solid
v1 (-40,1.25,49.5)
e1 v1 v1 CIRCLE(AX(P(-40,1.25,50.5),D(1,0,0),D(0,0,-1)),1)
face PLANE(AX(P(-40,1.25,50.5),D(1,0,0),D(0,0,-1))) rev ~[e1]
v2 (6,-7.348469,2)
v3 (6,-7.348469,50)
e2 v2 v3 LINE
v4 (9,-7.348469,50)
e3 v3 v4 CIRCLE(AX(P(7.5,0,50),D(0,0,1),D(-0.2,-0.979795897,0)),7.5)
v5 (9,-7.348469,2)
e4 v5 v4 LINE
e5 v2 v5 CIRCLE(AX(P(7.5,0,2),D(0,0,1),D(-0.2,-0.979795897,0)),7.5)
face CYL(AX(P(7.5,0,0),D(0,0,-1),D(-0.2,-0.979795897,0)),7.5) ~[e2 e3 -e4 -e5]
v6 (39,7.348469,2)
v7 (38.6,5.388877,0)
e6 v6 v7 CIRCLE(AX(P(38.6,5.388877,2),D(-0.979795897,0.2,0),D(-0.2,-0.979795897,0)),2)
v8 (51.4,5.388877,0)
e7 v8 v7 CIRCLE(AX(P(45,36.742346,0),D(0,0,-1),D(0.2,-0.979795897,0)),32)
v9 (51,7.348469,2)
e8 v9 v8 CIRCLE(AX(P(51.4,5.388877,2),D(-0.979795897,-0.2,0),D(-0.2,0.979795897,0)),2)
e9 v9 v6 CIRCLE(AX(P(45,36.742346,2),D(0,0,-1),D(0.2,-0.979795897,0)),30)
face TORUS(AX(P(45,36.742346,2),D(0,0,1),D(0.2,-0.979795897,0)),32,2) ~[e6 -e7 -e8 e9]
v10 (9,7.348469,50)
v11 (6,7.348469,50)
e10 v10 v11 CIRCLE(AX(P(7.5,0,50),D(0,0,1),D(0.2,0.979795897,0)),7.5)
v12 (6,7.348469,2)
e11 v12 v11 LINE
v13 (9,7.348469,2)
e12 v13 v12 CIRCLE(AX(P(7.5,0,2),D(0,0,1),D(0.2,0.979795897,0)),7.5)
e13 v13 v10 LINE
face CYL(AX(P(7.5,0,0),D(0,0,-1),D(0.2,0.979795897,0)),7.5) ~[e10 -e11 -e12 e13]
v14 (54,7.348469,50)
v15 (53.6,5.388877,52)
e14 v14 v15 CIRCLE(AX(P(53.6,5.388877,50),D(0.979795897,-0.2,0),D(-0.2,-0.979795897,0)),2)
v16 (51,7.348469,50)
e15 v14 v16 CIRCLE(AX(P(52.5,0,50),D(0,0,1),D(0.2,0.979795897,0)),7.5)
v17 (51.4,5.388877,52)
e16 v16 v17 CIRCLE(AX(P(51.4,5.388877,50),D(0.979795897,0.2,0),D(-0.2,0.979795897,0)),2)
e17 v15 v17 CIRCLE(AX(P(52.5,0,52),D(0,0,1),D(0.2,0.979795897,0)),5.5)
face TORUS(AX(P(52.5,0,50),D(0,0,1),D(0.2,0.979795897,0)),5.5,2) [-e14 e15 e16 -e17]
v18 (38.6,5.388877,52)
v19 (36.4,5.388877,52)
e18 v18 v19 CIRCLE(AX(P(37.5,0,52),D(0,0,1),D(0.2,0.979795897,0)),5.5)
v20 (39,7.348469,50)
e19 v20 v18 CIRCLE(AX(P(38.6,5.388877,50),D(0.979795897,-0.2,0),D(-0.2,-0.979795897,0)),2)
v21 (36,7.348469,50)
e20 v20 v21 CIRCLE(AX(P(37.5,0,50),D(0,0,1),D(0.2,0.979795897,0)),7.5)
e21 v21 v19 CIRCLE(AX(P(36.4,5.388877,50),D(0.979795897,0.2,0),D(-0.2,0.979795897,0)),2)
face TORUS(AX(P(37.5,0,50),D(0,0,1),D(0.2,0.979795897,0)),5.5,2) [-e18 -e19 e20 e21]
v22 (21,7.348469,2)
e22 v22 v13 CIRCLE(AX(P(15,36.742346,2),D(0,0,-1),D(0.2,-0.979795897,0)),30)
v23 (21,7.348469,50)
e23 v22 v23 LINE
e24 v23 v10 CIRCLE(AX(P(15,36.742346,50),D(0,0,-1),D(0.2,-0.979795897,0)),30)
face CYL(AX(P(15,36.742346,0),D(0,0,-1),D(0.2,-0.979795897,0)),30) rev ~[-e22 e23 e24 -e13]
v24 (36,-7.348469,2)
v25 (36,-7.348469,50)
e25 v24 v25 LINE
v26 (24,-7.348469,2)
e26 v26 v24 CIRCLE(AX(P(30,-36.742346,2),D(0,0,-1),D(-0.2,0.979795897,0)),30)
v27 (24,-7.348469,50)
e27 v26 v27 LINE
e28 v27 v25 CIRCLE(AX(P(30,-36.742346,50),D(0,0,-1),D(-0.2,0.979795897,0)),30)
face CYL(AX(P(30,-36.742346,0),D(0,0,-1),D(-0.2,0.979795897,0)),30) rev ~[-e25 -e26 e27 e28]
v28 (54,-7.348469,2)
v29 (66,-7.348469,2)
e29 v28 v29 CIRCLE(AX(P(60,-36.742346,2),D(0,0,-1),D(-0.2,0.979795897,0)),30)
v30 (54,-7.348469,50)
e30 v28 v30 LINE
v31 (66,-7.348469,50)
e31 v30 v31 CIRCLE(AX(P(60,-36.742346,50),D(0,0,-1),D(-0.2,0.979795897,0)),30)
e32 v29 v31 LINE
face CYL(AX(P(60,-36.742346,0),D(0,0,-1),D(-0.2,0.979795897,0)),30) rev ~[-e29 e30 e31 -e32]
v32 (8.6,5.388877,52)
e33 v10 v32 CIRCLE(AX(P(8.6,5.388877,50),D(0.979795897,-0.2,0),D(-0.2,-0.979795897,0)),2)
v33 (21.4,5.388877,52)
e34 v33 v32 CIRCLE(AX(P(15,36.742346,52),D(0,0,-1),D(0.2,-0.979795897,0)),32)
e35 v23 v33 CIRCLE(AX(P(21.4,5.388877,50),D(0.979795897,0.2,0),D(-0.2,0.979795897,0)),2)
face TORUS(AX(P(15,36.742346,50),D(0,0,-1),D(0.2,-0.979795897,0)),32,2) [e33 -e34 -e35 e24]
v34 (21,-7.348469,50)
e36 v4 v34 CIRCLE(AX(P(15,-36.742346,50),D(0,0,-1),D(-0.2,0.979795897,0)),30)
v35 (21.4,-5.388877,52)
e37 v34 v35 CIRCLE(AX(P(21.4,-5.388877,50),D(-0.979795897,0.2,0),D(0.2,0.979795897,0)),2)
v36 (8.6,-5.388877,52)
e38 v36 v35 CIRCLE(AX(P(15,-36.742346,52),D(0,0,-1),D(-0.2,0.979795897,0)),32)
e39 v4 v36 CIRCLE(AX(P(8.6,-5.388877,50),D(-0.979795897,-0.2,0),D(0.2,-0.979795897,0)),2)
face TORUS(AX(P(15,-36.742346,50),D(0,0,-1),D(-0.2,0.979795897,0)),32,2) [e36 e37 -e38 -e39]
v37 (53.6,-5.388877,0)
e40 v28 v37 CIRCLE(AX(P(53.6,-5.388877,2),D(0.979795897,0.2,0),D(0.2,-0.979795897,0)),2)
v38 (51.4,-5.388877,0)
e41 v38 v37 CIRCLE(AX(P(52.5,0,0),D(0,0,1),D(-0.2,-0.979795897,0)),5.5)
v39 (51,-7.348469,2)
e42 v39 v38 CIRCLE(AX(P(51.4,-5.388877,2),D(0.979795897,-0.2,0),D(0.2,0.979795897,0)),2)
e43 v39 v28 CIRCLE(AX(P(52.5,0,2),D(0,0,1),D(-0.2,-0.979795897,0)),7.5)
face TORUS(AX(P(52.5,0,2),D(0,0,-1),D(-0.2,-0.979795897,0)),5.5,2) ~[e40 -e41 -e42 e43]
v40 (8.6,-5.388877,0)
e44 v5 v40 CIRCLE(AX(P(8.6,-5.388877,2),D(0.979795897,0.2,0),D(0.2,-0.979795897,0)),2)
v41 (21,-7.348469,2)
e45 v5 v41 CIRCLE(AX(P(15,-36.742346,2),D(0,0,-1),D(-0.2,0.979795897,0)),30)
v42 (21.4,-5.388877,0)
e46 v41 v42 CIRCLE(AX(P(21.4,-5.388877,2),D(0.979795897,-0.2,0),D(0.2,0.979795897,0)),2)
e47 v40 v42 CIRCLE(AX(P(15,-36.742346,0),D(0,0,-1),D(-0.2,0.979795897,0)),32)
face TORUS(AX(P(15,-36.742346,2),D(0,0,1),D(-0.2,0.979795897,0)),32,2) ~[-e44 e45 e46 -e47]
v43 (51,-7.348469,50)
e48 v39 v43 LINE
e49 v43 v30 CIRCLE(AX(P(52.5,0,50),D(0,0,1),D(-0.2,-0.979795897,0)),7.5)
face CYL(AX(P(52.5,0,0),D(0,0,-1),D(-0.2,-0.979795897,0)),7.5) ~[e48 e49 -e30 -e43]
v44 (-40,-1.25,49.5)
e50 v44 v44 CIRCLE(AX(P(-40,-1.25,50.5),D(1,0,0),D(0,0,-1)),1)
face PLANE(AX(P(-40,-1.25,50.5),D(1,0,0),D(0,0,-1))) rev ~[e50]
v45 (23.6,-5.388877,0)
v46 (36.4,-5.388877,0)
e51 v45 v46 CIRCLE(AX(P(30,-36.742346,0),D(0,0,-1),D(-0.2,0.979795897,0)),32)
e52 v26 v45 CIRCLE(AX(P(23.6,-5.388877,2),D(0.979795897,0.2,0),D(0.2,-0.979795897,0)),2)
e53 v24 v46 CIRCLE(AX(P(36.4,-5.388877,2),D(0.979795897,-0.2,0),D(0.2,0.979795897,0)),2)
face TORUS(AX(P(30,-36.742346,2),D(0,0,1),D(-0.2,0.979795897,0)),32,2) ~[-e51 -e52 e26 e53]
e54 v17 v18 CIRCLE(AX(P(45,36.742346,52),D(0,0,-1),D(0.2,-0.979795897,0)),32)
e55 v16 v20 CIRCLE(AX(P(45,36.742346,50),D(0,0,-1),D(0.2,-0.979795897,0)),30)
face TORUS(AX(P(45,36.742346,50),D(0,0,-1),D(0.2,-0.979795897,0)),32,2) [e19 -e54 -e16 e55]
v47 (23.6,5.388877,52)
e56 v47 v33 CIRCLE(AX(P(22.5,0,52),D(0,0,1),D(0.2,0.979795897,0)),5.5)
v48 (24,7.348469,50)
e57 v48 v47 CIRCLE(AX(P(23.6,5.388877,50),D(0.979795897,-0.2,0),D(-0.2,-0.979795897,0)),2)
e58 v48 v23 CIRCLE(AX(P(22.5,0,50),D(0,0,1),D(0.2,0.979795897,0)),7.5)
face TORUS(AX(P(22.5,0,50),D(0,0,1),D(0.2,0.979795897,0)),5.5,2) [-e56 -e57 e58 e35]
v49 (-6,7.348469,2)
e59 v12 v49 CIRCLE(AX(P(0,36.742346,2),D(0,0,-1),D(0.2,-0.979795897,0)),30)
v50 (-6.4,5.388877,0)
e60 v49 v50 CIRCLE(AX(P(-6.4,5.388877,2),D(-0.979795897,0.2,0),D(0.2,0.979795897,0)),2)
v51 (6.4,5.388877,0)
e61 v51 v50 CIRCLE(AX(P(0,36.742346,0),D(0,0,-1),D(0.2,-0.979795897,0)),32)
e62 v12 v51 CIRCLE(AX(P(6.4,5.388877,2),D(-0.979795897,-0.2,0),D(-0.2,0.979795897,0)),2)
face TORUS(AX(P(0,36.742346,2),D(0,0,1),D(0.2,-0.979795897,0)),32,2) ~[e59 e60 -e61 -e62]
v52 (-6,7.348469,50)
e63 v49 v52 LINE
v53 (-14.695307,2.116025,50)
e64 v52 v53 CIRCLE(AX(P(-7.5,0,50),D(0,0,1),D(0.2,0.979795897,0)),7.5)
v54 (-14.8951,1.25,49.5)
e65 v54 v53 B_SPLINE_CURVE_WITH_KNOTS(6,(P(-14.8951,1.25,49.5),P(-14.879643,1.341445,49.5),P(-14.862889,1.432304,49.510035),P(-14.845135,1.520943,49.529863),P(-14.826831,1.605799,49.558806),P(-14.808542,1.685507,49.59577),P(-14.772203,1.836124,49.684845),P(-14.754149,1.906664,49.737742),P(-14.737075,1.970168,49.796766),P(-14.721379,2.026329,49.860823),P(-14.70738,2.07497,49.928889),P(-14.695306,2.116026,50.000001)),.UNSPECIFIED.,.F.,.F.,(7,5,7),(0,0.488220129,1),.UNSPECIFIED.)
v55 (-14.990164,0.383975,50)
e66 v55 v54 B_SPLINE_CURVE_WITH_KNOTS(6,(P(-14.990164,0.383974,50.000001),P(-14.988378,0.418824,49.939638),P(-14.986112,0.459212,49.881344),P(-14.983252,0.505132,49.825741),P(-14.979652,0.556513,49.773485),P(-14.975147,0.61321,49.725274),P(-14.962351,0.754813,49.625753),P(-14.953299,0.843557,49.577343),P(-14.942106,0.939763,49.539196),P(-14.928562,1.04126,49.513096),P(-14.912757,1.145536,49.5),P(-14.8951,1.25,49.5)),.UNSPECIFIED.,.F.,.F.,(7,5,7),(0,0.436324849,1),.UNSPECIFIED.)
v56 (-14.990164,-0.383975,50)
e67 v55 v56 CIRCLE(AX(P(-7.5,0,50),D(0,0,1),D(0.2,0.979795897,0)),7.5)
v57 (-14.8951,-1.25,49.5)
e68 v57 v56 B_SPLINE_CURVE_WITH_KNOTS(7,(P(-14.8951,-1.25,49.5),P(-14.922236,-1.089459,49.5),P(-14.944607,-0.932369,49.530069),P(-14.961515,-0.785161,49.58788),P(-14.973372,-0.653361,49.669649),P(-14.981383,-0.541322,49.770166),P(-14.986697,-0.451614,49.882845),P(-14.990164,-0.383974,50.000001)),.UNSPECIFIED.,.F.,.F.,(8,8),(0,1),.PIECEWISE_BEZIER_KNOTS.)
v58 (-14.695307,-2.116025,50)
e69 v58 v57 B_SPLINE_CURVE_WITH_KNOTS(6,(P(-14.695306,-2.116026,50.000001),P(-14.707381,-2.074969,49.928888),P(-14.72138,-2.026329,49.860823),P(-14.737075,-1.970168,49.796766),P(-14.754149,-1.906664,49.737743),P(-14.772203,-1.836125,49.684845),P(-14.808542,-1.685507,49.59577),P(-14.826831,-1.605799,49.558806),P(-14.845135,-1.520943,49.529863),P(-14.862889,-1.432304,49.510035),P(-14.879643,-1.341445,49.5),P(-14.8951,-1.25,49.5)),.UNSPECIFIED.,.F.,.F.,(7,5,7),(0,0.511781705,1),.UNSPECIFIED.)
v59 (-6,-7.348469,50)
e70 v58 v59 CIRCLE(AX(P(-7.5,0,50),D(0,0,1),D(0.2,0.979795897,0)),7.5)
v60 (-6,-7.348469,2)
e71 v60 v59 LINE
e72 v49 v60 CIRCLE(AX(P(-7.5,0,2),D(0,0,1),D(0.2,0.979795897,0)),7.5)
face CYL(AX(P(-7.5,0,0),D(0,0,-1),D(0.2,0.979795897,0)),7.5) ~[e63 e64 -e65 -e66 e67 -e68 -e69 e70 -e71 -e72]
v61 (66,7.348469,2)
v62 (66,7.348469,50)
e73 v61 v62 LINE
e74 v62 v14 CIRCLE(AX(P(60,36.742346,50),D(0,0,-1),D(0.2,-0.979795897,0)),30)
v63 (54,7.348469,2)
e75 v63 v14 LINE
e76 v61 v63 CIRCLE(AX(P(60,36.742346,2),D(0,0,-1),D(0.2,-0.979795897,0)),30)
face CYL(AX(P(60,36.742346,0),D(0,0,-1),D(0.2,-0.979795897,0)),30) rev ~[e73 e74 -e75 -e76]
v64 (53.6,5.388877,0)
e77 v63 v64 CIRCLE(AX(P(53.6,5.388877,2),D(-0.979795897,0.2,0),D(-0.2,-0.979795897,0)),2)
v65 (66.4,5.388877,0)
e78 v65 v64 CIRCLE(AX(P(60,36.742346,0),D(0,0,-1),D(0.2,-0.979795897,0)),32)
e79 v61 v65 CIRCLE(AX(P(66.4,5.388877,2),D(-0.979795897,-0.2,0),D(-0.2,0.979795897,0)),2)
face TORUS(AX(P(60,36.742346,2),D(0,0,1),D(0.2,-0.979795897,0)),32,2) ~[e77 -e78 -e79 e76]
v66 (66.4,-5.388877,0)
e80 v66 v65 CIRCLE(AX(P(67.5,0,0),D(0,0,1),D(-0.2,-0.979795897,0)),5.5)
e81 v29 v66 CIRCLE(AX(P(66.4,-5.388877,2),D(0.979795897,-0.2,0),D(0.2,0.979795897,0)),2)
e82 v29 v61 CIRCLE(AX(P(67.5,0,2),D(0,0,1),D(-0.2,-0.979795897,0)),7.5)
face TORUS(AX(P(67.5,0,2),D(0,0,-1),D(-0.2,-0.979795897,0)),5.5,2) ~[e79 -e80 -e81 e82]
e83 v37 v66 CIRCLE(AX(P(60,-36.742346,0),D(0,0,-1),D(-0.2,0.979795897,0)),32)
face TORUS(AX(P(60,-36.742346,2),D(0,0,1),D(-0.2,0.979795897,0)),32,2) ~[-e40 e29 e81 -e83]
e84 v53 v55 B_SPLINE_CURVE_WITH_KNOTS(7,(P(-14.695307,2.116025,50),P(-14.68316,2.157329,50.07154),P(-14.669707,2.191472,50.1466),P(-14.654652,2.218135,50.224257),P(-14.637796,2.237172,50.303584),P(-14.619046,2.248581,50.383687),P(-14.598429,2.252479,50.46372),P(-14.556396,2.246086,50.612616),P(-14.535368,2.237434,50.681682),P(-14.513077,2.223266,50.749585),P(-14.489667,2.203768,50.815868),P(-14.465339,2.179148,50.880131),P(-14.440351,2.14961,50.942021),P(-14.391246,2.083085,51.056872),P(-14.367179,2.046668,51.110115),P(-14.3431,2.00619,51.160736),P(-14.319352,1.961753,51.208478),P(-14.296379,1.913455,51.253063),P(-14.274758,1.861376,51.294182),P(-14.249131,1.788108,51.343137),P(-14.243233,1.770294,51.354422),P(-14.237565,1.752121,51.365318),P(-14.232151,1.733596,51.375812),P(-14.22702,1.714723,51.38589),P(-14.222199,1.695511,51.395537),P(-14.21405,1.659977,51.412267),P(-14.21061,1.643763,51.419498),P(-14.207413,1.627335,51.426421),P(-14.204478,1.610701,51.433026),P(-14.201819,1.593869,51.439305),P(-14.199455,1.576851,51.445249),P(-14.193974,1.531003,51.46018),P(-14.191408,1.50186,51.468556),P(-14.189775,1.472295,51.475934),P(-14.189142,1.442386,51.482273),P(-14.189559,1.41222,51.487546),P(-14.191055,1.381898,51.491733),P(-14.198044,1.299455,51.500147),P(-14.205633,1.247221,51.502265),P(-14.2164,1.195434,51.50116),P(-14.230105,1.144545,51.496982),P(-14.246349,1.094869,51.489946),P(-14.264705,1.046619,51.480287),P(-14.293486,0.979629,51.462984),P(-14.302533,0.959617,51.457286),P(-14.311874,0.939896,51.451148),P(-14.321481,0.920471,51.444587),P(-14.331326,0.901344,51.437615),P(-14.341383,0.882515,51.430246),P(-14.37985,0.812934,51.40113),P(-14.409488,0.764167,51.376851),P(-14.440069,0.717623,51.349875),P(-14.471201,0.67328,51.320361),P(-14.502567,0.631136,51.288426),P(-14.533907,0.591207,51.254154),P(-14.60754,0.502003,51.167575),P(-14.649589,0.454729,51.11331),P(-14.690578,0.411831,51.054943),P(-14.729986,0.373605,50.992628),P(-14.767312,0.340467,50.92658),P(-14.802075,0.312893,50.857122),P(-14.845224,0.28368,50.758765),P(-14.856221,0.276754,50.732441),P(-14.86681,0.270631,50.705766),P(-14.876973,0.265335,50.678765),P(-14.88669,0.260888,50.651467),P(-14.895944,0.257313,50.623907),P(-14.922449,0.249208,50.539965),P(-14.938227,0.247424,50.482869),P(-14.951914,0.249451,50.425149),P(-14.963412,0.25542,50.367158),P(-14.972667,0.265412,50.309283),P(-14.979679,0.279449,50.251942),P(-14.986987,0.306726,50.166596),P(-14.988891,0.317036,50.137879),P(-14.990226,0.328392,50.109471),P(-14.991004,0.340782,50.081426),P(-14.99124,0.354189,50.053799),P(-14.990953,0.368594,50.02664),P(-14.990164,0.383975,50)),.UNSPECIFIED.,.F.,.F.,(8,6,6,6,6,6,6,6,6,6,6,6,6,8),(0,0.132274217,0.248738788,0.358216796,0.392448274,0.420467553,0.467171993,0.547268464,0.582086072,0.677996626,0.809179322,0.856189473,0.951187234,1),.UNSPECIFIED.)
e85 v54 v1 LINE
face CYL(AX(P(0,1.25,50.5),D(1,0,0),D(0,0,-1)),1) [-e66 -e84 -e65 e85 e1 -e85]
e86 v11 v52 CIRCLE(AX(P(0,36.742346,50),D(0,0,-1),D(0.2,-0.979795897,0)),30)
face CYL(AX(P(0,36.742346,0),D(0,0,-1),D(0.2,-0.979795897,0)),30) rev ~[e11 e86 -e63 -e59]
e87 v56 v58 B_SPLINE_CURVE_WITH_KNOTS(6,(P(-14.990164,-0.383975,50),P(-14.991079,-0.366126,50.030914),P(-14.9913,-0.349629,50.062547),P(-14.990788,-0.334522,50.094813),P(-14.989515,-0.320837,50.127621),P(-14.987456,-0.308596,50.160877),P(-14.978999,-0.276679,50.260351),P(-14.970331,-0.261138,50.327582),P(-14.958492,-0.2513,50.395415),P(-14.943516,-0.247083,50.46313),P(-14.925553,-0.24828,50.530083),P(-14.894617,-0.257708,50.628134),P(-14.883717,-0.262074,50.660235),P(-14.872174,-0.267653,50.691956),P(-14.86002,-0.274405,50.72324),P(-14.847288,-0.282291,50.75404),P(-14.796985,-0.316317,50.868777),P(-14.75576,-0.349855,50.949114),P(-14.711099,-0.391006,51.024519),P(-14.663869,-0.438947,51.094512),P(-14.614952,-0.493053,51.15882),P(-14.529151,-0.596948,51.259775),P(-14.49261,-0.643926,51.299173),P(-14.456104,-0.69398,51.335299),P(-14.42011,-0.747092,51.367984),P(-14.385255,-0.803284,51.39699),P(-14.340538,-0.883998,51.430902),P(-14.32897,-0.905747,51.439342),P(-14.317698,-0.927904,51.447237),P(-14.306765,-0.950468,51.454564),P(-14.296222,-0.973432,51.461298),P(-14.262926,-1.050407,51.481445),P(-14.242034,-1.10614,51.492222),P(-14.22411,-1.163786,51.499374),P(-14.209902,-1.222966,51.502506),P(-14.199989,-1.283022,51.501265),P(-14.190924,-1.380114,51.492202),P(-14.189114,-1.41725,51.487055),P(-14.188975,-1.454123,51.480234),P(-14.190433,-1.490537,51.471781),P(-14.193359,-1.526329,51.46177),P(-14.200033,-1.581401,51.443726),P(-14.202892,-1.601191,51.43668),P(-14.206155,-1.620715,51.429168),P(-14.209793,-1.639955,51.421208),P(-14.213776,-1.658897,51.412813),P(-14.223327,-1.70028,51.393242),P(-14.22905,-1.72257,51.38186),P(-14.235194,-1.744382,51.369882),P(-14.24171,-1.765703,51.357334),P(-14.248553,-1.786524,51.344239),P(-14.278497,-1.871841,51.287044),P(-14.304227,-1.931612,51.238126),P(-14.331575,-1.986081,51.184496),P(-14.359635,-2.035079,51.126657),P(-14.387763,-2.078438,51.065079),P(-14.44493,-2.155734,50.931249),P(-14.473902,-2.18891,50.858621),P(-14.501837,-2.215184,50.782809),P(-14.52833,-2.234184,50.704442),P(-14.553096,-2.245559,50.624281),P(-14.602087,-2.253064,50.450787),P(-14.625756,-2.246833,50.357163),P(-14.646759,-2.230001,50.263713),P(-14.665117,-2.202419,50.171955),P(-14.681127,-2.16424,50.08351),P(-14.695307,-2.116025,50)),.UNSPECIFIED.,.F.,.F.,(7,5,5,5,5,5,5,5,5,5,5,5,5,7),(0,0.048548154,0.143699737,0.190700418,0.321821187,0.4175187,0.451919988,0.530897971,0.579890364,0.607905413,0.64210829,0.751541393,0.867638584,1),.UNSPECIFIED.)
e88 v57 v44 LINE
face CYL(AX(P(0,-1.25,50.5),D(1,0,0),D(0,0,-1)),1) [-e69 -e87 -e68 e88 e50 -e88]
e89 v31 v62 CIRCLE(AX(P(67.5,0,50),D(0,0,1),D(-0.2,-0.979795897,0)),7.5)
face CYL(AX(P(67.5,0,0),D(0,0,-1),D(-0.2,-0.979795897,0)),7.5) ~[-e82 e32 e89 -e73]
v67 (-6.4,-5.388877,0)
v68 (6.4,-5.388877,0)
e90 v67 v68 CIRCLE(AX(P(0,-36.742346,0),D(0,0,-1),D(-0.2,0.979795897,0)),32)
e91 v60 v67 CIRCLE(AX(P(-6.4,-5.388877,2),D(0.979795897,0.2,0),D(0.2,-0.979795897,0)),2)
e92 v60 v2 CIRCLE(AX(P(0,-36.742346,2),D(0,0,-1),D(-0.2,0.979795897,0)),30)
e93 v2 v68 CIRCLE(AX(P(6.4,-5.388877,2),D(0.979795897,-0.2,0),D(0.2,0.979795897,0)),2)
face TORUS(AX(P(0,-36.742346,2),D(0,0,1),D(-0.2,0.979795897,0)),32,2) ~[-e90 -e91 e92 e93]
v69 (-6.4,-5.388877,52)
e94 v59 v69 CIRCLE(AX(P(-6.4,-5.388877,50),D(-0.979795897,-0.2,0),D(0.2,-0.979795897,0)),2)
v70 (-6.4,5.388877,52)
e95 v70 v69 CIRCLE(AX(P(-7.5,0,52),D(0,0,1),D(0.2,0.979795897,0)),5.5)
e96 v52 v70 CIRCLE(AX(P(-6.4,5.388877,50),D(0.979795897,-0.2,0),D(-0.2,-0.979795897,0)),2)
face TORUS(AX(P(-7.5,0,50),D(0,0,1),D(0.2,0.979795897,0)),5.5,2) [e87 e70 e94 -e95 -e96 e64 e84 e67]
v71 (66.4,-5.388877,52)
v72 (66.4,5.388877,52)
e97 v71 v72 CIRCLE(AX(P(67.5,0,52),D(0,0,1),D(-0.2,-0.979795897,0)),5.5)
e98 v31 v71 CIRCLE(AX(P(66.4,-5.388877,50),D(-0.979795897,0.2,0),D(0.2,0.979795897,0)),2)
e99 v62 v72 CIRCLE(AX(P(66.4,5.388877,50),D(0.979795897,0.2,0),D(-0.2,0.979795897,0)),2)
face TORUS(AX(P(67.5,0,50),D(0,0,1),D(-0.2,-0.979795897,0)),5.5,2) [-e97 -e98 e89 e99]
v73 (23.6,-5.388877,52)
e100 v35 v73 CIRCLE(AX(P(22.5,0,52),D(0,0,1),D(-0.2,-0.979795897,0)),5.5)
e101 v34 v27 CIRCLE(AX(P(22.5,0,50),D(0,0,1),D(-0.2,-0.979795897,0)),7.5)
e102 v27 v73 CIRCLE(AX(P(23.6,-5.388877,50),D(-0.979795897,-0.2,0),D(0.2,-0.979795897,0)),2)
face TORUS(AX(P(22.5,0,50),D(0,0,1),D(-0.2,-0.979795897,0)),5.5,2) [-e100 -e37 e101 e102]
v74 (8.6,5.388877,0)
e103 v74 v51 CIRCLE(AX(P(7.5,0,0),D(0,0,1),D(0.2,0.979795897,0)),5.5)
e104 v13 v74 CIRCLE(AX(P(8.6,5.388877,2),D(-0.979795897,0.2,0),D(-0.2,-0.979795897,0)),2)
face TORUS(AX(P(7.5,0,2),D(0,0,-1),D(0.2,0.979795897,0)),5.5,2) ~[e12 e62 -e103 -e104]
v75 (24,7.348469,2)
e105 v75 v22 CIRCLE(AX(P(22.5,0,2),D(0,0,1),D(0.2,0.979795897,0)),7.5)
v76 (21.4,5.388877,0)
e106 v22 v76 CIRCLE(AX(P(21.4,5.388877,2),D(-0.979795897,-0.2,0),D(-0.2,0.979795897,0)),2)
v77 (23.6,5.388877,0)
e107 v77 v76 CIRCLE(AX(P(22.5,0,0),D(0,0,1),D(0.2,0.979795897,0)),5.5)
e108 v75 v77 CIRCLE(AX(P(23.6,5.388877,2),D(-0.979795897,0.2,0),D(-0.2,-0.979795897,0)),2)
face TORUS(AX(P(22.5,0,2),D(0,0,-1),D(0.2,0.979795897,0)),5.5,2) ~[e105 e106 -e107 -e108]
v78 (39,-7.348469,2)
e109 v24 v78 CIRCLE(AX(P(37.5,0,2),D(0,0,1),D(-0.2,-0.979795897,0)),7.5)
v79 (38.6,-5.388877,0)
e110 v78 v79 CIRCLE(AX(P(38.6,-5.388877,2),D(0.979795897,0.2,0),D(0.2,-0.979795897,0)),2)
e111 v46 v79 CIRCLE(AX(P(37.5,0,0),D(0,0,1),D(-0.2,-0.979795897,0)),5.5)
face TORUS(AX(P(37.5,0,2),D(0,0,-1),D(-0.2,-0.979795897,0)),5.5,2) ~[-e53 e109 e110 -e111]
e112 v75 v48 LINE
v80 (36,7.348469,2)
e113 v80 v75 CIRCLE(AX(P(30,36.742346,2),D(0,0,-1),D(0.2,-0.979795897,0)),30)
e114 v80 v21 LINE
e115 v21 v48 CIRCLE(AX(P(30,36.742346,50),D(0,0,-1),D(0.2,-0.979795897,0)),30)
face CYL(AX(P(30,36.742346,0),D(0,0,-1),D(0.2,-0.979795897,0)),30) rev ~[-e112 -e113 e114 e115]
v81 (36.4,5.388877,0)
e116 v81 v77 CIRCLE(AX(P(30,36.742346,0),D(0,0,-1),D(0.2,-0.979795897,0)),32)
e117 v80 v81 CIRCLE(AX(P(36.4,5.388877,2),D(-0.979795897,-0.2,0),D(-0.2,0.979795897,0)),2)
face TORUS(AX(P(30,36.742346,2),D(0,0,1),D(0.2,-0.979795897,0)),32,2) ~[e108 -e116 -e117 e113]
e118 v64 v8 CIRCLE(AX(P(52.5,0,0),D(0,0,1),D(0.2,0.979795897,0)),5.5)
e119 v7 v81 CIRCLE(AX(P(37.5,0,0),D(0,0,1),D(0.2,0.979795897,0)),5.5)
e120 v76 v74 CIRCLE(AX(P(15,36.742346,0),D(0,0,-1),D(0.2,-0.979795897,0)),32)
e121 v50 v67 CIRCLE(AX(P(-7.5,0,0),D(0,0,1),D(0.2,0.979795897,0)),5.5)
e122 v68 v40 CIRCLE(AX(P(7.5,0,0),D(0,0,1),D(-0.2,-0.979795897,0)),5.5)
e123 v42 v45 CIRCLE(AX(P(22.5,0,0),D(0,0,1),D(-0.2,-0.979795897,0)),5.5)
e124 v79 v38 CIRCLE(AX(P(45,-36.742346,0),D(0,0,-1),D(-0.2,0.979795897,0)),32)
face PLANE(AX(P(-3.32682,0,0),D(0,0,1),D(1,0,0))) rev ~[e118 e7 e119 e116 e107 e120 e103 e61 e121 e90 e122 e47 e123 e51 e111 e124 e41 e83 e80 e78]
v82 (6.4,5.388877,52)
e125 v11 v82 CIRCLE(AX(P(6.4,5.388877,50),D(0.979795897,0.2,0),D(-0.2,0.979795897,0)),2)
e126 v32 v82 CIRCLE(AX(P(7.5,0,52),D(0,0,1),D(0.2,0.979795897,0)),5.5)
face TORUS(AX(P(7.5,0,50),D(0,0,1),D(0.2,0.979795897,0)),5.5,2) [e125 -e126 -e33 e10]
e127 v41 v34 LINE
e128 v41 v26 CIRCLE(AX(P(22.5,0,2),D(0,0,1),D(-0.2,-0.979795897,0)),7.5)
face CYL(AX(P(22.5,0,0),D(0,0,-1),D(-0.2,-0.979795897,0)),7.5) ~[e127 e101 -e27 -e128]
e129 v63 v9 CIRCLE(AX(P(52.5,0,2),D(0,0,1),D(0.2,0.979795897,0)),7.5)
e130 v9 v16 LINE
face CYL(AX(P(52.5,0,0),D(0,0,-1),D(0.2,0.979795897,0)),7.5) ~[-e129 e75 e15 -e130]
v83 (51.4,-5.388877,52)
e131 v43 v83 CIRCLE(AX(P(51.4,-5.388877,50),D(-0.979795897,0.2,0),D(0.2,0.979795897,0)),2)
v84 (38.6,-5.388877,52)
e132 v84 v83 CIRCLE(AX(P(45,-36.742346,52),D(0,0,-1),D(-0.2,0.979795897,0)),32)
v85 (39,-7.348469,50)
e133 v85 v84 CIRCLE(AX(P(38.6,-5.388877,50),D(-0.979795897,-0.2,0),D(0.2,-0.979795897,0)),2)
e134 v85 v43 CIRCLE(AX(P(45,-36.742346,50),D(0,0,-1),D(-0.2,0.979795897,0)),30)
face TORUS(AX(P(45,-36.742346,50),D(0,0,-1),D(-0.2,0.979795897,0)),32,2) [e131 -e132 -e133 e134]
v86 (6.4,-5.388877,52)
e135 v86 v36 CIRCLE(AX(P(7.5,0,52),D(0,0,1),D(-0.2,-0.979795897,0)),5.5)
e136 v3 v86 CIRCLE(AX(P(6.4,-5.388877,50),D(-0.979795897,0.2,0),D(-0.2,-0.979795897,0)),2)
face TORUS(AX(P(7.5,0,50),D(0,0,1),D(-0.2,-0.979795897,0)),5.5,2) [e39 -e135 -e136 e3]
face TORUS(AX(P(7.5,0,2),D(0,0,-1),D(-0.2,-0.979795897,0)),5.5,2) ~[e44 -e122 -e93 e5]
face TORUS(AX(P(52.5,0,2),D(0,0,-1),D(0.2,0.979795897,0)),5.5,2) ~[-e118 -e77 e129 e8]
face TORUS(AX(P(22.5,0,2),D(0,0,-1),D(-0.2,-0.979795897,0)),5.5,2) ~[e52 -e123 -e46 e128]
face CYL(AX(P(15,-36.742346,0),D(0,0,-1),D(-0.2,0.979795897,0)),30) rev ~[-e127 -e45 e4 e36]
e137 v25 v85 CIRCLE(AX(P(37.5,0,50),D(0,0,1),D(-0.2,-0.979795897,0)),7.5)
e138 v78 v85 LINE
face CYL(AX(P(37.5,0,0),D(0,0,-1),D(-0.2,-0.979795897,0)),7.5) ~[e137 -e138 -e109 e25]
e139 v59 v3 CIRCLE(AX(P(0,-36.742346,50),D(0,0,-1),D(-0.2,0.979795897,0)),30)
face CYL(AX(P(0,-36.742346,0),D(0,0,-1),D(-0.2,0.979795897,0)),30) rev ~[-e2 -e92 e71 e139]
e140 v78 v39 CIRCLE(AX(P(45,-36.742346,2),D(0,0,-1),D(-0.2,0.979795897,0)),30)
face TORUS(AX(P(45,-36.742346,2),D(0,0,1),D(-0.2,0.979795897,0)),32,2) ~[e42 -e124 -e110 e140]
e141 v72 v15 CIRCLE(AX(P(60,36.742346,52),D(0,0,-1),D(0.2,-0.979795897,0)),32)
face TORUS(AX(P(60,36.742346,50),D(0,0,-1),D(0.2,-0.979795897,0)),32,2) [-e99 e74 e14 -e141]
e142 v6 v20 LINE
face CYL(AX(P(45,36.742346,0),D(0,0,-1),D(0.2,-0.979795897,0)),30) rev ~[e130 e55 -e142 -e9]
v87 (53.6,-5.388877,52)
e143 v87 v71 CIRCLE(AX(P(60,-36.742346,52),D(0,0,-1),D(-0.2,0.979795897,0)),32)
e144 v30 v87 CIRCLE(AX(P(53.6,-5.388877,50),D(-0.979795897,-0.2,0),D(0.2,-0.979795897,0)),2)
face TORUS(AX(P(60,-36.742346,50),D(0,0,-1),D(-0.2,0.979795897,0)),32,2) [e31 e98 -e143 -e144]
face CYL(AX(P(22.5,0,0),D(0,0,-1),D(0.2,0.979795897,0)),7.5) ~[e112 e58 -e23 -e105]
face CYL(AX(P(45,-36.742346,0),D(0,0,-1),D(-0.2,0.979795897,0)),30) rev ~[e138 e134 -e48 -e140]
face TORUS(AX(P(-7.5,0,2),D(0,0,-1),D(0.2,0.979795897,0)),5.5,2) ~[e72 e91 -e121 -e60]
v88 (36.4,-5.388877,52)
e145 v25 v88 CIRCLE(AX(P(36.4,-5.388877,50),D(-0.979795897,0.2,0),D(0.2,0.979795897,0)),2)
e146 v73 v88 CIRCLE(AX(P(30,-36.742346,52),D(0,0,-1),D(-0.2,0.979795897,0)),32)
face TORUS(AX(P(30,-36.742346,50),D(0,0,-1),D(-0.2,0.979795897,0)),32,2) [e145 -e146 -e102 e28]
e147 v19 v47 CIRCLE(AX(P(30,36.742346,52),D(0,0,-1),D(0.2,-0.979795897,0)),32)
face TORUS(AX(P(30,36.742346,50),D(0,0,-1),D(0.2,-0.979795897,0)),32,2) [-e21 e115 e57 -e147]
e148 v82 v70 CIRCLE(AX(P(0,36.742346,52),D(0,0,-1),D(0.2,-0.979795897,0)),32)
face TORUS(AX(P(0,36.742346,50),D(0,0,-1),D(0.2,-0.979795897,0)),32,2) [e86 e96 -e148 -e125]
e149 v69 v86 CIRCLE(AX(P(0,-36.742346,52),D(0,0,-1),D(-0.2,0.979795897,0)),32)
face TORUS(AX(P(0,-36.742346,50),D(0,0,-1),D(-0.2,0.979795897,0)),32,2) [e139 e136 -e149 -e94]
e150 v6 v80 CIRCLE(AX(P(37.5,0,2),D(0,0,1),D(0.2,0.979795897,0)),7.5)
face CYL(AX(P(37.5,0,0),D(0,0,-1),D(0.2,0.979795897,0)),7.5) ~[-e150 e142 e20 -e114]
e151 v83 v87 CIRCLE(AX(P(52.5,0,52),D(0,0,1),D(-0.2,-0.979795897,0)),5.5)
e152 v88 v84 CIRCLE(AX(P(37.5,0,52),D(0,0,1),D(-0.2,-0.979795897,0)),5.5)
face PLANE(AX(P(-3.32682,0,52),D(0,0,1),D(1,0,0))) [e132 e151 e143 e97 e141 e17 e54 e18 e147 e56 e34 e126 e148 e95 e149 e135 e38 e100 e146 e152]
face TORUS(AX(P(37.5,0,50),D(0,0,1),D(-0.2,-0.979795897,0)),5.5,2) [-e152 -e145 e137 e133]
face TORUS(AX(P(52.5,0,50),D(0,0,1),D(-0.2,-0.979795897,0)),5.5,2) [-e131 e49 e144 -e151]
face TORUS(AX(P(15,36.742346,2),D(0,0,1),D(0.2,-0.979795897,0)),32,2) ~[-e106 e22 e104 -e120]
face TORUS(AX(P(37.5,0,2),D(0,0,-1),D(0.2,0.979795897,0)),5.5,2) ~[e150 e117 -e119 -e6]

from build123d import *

# Parameters (mm, degrees)
BOSS_EXTRU_1_DEPTH = 52
CONG_1_R           = 2
ESQUISSE3_R        = 1
BOSS_EXTRU_2_DEPTH = 40


with BuildPart() as part:
    # Esquisse2 → Boss.-Extru.1 (new body)
    with BuildSketch(Plane.XY):
        with BuildLine():
            ThreePointArc((6, 7.348469228), (0, 6.742346142), (-6, 7.348469228))
            ThreePointArc((-6, 7.348469228), (-15, 0), (-6, -7.348469228))
            ThreePointArc((-6, -7.348469228), (0, -6.742346142), (6, -7.348469228))
            ThreePointArc((6, -7.348469228), (0, 0), (6, 7.348469228))
        make_face()
        with BuildLine():
            ThreePointArc((9, 7.348469228), (7.5, 7.5), (6, 7.348469228))
            ThreePointArc((6, 7.348469228), (0, 0), (6, -7.348469228))
            ThreePointArc((6, -7.348469228), (7.5, -7.5), (9, -7.348469228))
            ThreePointArc((9, -7.348469228), (13.309475024, -4.743416484), (15, 1.6e-08))
            ThreePointArc((15, 1.6e-08), (13.309475014, 4.743416497), (9, 7.348469228))
        make_face()
        with BuildLine():
            ThreePointArc((21, 7.348469228), (15, 6.742346142), (9, 7.348469228))
            ThreePointArc((9, 7.348469228), (13.309475014, 4.743416497), (15, 1.6e-08))
            ThreePointArc((15, 1.6e-08), (16.690524986, 4.743416497), (21, 7.348469228))
        make_face()
        with BuildLine():
            ThreePointArc((15, 1.6e-08), (13.309475024, -4.743416484), (9, -7.348469228))
            ThreePointArc((9, -7.348469228), (15, -6.742346142), (21, -7.348469228))
            ThreePointArc((21, -7.348469228), (16.690524976, -4.743416484), (15, 1.6e-08))
        make_face()
        with BuildLine():
            ThreePointArc((21, 7.348469228), (16.690524986, 4.743416497), (15, 1.6e-08))
            ThreePointArc((15, 1.6e-08), (16.690524976, -4.743416484), (21, -7.348469228))
            ThreePointArc((21, -7.348469228), (22.5, -7.5), (24, -7.348469228))
            ThreePointArc((24, -7.348469228), (28.309475025, -4.743416484), (30, 1.7e-08))
            ThreePointArc((30, 1.7e-08), (28.309475014, 4.743416497), (24, 7.348469228))
            ThreePointArc((24, 7.348469228), (22.5, 7.5), (21, 7.348469228))
        make_face()
        with BuildLine():
            ThreePointArc((36, 7.348469228), (30, 6.742346142), (24, 7.348469228))
            ThreePointArc((24, 7.348469228), (28.309475014, 4.743416497), (30, 1.7e-08))
            ThreePointArc((30, 1.7e-08), (31.690524986, 4.743416497), (36, 7.348469228))
        make_face()
        with BuildLine():
            ThreePointArc((30, 1.7e-08), (28.309475025, -4.743416484), (24, -7.348469228))
            ThreePointArc((24, -7.348469228), (30, -6.742346142), (36, -7.348469228))
            ThreePointArc((36, -7.348469228), (31.690524975, -4.743416484), (30, 1.7e-08))
        make_face()
        with BuildLine():
            ThreePointArc((36, 7.348469228), (31.690524986, 4.743416497), (30, 1.7e-08))
            ThreePointArc((30, 1.7e-08), (31.690524975, -4.743416484), (36, -7.348469228))
            ThreePointArc((36, -7.348469228), (37.5, -7.5), (39, -7.348469228))
            ThreePointArc((39, -7.348469228), (43.309475006, -4.743416507), (45, -4.3e-08))
            ThreePointArc((45, -4.3e-08), (43.309475033, 4.743416474), (39, 7.348469228))
            ThreePointArc((39, 7.348469228), (37.5, 7.5), (36, 7.348469228))
        make_face()
        with BuildLine():
            ThreePointArc((51, 7.348469228), (45, 6.742346142), (39, 7.348469228))
            ThreePointArc((39, 7.348469228), (43.309475033, 4.743416474), (45, -4.3e-08))
            ThreePointArc((45, -4.3e-08), (46.690524967, 4.743416474), (51, 7.348469228))
        make_face()
        with BuildLine():
            ThreePointArc((45, -4.3e-08), (43.309475006, -4.743416507), (39, -7.348469228))
            ThreePointArc((39, -7.348469228), (45, -6.742346142), (51, -7.348469228))
            ThreePointArc((51, -7.348469228), (46.690524994, -4.743416507), (45, -4.3e-08))
        make_face()
        with BuildLine():
            ThreePointArc((51, 7.348469228), (46.690524967, 4.743416474), (45, -4.3e-08))
            ThreePointArc((45, -4.3e-08), (46.690524994, -4.743416507), (51, -7.348469228))
            ThreePointArc((51, -7.348469228), (52.5, -7.5), (54, -7.348469228))
            ThreePointArc((54, -7.348469228), (60, 0), (54, 7.348469228))
            ThreePointArc((54, 7.348469228), (52.5, 7.5), (51, 7.348469228))
        make_face()
        with BuildLine():
            ThreePointArc((66, 7.348469228), (60, 6.742346142), (54, 7.348469228))
            ThreePointArc((54, 7.348469228), (60, 0), (54, -7.348469228))
            ThreePointArc((54, -7.348469228), (60, -6.742346142), (66, -7.348469228))
            ThreePointArc((66, -7.348469228), (75, 0), (66, 7.348469228))
        make_face()
    extrude(amount=BOSS_EXTRU_1_DEPTH)

    # Congé1
    cong_1_edges = [part.edges().sort_by_distance(p)[0] for p in [
        (7.5, -7.5, 52),
        (-15, 0, 52),
        (15, -6.742346142, 52),
        (22.5, -7.5, 52),
        (-15, 0, 0),
        (0, 6.742346142, 0),
        (7.5, 7.5, 0),
        (15, 6.742346142, 0),
        (22.5, 7.5, 0),
        (30, 6.742346142, 0),
        (37.5, 7.5, 0),
        (45, 6.742346142, 0),
        (52.5, 7.5, 0),
        (60, 6.742346142, 0),
        (30, -6.742346142, 52),
        (75, 0, 0),
        (60, -6.742346142, 0),
        (52.5, -7.5, 0),
        (45, -6.742346142, 0),
        (37.5, -7.5, 0),
        (30, -6.742346142, 0),
        (22.5, -7.5, 0),
        (15, -6.742346142, 0),
        (7.5, -7.5, 0),
        (0, -6.742346142, 0),
        (37.5, -7.5, 52),
        (45, -6.742346142, 52),
        (52.5, -7.5, 52),
        (60, -6.742346142, 52),
        (0, -6.742346142, 52),
        (75, 0, 52),
        (60, 6.742346142, 52),
        (52.5, 7.5, 52),
        (45, 6.742346142, 52),
        (37.5, 7.5, 52),
        (30, 6.742346142, 52),
        (22.5, 7.5, 52),
        (15, 6.742346142, 52),
        (7.5, 7.5, 52),
        (0, 6.742346142, 52),
    ]]
    fillet(cong_1_edges, radius=CONG_1_R)

    # Esquisse3 → Boss.-Extru.2 (add)
    with BuildSketch(Plane(origin=(0, 0, 0), x_dir=(0, 0, -1), z_dir=(1, 0, 0))):
        with Locations((-50.5, 1.25)):
            Circle(ESQUISSE3_R)
        with Locations((-50.5, -1.25)):
            Circle(ESQUISSE3_R)
    extrude(amount=-BOSS_EXTRU_2_DEPTH)


solid = part.part
